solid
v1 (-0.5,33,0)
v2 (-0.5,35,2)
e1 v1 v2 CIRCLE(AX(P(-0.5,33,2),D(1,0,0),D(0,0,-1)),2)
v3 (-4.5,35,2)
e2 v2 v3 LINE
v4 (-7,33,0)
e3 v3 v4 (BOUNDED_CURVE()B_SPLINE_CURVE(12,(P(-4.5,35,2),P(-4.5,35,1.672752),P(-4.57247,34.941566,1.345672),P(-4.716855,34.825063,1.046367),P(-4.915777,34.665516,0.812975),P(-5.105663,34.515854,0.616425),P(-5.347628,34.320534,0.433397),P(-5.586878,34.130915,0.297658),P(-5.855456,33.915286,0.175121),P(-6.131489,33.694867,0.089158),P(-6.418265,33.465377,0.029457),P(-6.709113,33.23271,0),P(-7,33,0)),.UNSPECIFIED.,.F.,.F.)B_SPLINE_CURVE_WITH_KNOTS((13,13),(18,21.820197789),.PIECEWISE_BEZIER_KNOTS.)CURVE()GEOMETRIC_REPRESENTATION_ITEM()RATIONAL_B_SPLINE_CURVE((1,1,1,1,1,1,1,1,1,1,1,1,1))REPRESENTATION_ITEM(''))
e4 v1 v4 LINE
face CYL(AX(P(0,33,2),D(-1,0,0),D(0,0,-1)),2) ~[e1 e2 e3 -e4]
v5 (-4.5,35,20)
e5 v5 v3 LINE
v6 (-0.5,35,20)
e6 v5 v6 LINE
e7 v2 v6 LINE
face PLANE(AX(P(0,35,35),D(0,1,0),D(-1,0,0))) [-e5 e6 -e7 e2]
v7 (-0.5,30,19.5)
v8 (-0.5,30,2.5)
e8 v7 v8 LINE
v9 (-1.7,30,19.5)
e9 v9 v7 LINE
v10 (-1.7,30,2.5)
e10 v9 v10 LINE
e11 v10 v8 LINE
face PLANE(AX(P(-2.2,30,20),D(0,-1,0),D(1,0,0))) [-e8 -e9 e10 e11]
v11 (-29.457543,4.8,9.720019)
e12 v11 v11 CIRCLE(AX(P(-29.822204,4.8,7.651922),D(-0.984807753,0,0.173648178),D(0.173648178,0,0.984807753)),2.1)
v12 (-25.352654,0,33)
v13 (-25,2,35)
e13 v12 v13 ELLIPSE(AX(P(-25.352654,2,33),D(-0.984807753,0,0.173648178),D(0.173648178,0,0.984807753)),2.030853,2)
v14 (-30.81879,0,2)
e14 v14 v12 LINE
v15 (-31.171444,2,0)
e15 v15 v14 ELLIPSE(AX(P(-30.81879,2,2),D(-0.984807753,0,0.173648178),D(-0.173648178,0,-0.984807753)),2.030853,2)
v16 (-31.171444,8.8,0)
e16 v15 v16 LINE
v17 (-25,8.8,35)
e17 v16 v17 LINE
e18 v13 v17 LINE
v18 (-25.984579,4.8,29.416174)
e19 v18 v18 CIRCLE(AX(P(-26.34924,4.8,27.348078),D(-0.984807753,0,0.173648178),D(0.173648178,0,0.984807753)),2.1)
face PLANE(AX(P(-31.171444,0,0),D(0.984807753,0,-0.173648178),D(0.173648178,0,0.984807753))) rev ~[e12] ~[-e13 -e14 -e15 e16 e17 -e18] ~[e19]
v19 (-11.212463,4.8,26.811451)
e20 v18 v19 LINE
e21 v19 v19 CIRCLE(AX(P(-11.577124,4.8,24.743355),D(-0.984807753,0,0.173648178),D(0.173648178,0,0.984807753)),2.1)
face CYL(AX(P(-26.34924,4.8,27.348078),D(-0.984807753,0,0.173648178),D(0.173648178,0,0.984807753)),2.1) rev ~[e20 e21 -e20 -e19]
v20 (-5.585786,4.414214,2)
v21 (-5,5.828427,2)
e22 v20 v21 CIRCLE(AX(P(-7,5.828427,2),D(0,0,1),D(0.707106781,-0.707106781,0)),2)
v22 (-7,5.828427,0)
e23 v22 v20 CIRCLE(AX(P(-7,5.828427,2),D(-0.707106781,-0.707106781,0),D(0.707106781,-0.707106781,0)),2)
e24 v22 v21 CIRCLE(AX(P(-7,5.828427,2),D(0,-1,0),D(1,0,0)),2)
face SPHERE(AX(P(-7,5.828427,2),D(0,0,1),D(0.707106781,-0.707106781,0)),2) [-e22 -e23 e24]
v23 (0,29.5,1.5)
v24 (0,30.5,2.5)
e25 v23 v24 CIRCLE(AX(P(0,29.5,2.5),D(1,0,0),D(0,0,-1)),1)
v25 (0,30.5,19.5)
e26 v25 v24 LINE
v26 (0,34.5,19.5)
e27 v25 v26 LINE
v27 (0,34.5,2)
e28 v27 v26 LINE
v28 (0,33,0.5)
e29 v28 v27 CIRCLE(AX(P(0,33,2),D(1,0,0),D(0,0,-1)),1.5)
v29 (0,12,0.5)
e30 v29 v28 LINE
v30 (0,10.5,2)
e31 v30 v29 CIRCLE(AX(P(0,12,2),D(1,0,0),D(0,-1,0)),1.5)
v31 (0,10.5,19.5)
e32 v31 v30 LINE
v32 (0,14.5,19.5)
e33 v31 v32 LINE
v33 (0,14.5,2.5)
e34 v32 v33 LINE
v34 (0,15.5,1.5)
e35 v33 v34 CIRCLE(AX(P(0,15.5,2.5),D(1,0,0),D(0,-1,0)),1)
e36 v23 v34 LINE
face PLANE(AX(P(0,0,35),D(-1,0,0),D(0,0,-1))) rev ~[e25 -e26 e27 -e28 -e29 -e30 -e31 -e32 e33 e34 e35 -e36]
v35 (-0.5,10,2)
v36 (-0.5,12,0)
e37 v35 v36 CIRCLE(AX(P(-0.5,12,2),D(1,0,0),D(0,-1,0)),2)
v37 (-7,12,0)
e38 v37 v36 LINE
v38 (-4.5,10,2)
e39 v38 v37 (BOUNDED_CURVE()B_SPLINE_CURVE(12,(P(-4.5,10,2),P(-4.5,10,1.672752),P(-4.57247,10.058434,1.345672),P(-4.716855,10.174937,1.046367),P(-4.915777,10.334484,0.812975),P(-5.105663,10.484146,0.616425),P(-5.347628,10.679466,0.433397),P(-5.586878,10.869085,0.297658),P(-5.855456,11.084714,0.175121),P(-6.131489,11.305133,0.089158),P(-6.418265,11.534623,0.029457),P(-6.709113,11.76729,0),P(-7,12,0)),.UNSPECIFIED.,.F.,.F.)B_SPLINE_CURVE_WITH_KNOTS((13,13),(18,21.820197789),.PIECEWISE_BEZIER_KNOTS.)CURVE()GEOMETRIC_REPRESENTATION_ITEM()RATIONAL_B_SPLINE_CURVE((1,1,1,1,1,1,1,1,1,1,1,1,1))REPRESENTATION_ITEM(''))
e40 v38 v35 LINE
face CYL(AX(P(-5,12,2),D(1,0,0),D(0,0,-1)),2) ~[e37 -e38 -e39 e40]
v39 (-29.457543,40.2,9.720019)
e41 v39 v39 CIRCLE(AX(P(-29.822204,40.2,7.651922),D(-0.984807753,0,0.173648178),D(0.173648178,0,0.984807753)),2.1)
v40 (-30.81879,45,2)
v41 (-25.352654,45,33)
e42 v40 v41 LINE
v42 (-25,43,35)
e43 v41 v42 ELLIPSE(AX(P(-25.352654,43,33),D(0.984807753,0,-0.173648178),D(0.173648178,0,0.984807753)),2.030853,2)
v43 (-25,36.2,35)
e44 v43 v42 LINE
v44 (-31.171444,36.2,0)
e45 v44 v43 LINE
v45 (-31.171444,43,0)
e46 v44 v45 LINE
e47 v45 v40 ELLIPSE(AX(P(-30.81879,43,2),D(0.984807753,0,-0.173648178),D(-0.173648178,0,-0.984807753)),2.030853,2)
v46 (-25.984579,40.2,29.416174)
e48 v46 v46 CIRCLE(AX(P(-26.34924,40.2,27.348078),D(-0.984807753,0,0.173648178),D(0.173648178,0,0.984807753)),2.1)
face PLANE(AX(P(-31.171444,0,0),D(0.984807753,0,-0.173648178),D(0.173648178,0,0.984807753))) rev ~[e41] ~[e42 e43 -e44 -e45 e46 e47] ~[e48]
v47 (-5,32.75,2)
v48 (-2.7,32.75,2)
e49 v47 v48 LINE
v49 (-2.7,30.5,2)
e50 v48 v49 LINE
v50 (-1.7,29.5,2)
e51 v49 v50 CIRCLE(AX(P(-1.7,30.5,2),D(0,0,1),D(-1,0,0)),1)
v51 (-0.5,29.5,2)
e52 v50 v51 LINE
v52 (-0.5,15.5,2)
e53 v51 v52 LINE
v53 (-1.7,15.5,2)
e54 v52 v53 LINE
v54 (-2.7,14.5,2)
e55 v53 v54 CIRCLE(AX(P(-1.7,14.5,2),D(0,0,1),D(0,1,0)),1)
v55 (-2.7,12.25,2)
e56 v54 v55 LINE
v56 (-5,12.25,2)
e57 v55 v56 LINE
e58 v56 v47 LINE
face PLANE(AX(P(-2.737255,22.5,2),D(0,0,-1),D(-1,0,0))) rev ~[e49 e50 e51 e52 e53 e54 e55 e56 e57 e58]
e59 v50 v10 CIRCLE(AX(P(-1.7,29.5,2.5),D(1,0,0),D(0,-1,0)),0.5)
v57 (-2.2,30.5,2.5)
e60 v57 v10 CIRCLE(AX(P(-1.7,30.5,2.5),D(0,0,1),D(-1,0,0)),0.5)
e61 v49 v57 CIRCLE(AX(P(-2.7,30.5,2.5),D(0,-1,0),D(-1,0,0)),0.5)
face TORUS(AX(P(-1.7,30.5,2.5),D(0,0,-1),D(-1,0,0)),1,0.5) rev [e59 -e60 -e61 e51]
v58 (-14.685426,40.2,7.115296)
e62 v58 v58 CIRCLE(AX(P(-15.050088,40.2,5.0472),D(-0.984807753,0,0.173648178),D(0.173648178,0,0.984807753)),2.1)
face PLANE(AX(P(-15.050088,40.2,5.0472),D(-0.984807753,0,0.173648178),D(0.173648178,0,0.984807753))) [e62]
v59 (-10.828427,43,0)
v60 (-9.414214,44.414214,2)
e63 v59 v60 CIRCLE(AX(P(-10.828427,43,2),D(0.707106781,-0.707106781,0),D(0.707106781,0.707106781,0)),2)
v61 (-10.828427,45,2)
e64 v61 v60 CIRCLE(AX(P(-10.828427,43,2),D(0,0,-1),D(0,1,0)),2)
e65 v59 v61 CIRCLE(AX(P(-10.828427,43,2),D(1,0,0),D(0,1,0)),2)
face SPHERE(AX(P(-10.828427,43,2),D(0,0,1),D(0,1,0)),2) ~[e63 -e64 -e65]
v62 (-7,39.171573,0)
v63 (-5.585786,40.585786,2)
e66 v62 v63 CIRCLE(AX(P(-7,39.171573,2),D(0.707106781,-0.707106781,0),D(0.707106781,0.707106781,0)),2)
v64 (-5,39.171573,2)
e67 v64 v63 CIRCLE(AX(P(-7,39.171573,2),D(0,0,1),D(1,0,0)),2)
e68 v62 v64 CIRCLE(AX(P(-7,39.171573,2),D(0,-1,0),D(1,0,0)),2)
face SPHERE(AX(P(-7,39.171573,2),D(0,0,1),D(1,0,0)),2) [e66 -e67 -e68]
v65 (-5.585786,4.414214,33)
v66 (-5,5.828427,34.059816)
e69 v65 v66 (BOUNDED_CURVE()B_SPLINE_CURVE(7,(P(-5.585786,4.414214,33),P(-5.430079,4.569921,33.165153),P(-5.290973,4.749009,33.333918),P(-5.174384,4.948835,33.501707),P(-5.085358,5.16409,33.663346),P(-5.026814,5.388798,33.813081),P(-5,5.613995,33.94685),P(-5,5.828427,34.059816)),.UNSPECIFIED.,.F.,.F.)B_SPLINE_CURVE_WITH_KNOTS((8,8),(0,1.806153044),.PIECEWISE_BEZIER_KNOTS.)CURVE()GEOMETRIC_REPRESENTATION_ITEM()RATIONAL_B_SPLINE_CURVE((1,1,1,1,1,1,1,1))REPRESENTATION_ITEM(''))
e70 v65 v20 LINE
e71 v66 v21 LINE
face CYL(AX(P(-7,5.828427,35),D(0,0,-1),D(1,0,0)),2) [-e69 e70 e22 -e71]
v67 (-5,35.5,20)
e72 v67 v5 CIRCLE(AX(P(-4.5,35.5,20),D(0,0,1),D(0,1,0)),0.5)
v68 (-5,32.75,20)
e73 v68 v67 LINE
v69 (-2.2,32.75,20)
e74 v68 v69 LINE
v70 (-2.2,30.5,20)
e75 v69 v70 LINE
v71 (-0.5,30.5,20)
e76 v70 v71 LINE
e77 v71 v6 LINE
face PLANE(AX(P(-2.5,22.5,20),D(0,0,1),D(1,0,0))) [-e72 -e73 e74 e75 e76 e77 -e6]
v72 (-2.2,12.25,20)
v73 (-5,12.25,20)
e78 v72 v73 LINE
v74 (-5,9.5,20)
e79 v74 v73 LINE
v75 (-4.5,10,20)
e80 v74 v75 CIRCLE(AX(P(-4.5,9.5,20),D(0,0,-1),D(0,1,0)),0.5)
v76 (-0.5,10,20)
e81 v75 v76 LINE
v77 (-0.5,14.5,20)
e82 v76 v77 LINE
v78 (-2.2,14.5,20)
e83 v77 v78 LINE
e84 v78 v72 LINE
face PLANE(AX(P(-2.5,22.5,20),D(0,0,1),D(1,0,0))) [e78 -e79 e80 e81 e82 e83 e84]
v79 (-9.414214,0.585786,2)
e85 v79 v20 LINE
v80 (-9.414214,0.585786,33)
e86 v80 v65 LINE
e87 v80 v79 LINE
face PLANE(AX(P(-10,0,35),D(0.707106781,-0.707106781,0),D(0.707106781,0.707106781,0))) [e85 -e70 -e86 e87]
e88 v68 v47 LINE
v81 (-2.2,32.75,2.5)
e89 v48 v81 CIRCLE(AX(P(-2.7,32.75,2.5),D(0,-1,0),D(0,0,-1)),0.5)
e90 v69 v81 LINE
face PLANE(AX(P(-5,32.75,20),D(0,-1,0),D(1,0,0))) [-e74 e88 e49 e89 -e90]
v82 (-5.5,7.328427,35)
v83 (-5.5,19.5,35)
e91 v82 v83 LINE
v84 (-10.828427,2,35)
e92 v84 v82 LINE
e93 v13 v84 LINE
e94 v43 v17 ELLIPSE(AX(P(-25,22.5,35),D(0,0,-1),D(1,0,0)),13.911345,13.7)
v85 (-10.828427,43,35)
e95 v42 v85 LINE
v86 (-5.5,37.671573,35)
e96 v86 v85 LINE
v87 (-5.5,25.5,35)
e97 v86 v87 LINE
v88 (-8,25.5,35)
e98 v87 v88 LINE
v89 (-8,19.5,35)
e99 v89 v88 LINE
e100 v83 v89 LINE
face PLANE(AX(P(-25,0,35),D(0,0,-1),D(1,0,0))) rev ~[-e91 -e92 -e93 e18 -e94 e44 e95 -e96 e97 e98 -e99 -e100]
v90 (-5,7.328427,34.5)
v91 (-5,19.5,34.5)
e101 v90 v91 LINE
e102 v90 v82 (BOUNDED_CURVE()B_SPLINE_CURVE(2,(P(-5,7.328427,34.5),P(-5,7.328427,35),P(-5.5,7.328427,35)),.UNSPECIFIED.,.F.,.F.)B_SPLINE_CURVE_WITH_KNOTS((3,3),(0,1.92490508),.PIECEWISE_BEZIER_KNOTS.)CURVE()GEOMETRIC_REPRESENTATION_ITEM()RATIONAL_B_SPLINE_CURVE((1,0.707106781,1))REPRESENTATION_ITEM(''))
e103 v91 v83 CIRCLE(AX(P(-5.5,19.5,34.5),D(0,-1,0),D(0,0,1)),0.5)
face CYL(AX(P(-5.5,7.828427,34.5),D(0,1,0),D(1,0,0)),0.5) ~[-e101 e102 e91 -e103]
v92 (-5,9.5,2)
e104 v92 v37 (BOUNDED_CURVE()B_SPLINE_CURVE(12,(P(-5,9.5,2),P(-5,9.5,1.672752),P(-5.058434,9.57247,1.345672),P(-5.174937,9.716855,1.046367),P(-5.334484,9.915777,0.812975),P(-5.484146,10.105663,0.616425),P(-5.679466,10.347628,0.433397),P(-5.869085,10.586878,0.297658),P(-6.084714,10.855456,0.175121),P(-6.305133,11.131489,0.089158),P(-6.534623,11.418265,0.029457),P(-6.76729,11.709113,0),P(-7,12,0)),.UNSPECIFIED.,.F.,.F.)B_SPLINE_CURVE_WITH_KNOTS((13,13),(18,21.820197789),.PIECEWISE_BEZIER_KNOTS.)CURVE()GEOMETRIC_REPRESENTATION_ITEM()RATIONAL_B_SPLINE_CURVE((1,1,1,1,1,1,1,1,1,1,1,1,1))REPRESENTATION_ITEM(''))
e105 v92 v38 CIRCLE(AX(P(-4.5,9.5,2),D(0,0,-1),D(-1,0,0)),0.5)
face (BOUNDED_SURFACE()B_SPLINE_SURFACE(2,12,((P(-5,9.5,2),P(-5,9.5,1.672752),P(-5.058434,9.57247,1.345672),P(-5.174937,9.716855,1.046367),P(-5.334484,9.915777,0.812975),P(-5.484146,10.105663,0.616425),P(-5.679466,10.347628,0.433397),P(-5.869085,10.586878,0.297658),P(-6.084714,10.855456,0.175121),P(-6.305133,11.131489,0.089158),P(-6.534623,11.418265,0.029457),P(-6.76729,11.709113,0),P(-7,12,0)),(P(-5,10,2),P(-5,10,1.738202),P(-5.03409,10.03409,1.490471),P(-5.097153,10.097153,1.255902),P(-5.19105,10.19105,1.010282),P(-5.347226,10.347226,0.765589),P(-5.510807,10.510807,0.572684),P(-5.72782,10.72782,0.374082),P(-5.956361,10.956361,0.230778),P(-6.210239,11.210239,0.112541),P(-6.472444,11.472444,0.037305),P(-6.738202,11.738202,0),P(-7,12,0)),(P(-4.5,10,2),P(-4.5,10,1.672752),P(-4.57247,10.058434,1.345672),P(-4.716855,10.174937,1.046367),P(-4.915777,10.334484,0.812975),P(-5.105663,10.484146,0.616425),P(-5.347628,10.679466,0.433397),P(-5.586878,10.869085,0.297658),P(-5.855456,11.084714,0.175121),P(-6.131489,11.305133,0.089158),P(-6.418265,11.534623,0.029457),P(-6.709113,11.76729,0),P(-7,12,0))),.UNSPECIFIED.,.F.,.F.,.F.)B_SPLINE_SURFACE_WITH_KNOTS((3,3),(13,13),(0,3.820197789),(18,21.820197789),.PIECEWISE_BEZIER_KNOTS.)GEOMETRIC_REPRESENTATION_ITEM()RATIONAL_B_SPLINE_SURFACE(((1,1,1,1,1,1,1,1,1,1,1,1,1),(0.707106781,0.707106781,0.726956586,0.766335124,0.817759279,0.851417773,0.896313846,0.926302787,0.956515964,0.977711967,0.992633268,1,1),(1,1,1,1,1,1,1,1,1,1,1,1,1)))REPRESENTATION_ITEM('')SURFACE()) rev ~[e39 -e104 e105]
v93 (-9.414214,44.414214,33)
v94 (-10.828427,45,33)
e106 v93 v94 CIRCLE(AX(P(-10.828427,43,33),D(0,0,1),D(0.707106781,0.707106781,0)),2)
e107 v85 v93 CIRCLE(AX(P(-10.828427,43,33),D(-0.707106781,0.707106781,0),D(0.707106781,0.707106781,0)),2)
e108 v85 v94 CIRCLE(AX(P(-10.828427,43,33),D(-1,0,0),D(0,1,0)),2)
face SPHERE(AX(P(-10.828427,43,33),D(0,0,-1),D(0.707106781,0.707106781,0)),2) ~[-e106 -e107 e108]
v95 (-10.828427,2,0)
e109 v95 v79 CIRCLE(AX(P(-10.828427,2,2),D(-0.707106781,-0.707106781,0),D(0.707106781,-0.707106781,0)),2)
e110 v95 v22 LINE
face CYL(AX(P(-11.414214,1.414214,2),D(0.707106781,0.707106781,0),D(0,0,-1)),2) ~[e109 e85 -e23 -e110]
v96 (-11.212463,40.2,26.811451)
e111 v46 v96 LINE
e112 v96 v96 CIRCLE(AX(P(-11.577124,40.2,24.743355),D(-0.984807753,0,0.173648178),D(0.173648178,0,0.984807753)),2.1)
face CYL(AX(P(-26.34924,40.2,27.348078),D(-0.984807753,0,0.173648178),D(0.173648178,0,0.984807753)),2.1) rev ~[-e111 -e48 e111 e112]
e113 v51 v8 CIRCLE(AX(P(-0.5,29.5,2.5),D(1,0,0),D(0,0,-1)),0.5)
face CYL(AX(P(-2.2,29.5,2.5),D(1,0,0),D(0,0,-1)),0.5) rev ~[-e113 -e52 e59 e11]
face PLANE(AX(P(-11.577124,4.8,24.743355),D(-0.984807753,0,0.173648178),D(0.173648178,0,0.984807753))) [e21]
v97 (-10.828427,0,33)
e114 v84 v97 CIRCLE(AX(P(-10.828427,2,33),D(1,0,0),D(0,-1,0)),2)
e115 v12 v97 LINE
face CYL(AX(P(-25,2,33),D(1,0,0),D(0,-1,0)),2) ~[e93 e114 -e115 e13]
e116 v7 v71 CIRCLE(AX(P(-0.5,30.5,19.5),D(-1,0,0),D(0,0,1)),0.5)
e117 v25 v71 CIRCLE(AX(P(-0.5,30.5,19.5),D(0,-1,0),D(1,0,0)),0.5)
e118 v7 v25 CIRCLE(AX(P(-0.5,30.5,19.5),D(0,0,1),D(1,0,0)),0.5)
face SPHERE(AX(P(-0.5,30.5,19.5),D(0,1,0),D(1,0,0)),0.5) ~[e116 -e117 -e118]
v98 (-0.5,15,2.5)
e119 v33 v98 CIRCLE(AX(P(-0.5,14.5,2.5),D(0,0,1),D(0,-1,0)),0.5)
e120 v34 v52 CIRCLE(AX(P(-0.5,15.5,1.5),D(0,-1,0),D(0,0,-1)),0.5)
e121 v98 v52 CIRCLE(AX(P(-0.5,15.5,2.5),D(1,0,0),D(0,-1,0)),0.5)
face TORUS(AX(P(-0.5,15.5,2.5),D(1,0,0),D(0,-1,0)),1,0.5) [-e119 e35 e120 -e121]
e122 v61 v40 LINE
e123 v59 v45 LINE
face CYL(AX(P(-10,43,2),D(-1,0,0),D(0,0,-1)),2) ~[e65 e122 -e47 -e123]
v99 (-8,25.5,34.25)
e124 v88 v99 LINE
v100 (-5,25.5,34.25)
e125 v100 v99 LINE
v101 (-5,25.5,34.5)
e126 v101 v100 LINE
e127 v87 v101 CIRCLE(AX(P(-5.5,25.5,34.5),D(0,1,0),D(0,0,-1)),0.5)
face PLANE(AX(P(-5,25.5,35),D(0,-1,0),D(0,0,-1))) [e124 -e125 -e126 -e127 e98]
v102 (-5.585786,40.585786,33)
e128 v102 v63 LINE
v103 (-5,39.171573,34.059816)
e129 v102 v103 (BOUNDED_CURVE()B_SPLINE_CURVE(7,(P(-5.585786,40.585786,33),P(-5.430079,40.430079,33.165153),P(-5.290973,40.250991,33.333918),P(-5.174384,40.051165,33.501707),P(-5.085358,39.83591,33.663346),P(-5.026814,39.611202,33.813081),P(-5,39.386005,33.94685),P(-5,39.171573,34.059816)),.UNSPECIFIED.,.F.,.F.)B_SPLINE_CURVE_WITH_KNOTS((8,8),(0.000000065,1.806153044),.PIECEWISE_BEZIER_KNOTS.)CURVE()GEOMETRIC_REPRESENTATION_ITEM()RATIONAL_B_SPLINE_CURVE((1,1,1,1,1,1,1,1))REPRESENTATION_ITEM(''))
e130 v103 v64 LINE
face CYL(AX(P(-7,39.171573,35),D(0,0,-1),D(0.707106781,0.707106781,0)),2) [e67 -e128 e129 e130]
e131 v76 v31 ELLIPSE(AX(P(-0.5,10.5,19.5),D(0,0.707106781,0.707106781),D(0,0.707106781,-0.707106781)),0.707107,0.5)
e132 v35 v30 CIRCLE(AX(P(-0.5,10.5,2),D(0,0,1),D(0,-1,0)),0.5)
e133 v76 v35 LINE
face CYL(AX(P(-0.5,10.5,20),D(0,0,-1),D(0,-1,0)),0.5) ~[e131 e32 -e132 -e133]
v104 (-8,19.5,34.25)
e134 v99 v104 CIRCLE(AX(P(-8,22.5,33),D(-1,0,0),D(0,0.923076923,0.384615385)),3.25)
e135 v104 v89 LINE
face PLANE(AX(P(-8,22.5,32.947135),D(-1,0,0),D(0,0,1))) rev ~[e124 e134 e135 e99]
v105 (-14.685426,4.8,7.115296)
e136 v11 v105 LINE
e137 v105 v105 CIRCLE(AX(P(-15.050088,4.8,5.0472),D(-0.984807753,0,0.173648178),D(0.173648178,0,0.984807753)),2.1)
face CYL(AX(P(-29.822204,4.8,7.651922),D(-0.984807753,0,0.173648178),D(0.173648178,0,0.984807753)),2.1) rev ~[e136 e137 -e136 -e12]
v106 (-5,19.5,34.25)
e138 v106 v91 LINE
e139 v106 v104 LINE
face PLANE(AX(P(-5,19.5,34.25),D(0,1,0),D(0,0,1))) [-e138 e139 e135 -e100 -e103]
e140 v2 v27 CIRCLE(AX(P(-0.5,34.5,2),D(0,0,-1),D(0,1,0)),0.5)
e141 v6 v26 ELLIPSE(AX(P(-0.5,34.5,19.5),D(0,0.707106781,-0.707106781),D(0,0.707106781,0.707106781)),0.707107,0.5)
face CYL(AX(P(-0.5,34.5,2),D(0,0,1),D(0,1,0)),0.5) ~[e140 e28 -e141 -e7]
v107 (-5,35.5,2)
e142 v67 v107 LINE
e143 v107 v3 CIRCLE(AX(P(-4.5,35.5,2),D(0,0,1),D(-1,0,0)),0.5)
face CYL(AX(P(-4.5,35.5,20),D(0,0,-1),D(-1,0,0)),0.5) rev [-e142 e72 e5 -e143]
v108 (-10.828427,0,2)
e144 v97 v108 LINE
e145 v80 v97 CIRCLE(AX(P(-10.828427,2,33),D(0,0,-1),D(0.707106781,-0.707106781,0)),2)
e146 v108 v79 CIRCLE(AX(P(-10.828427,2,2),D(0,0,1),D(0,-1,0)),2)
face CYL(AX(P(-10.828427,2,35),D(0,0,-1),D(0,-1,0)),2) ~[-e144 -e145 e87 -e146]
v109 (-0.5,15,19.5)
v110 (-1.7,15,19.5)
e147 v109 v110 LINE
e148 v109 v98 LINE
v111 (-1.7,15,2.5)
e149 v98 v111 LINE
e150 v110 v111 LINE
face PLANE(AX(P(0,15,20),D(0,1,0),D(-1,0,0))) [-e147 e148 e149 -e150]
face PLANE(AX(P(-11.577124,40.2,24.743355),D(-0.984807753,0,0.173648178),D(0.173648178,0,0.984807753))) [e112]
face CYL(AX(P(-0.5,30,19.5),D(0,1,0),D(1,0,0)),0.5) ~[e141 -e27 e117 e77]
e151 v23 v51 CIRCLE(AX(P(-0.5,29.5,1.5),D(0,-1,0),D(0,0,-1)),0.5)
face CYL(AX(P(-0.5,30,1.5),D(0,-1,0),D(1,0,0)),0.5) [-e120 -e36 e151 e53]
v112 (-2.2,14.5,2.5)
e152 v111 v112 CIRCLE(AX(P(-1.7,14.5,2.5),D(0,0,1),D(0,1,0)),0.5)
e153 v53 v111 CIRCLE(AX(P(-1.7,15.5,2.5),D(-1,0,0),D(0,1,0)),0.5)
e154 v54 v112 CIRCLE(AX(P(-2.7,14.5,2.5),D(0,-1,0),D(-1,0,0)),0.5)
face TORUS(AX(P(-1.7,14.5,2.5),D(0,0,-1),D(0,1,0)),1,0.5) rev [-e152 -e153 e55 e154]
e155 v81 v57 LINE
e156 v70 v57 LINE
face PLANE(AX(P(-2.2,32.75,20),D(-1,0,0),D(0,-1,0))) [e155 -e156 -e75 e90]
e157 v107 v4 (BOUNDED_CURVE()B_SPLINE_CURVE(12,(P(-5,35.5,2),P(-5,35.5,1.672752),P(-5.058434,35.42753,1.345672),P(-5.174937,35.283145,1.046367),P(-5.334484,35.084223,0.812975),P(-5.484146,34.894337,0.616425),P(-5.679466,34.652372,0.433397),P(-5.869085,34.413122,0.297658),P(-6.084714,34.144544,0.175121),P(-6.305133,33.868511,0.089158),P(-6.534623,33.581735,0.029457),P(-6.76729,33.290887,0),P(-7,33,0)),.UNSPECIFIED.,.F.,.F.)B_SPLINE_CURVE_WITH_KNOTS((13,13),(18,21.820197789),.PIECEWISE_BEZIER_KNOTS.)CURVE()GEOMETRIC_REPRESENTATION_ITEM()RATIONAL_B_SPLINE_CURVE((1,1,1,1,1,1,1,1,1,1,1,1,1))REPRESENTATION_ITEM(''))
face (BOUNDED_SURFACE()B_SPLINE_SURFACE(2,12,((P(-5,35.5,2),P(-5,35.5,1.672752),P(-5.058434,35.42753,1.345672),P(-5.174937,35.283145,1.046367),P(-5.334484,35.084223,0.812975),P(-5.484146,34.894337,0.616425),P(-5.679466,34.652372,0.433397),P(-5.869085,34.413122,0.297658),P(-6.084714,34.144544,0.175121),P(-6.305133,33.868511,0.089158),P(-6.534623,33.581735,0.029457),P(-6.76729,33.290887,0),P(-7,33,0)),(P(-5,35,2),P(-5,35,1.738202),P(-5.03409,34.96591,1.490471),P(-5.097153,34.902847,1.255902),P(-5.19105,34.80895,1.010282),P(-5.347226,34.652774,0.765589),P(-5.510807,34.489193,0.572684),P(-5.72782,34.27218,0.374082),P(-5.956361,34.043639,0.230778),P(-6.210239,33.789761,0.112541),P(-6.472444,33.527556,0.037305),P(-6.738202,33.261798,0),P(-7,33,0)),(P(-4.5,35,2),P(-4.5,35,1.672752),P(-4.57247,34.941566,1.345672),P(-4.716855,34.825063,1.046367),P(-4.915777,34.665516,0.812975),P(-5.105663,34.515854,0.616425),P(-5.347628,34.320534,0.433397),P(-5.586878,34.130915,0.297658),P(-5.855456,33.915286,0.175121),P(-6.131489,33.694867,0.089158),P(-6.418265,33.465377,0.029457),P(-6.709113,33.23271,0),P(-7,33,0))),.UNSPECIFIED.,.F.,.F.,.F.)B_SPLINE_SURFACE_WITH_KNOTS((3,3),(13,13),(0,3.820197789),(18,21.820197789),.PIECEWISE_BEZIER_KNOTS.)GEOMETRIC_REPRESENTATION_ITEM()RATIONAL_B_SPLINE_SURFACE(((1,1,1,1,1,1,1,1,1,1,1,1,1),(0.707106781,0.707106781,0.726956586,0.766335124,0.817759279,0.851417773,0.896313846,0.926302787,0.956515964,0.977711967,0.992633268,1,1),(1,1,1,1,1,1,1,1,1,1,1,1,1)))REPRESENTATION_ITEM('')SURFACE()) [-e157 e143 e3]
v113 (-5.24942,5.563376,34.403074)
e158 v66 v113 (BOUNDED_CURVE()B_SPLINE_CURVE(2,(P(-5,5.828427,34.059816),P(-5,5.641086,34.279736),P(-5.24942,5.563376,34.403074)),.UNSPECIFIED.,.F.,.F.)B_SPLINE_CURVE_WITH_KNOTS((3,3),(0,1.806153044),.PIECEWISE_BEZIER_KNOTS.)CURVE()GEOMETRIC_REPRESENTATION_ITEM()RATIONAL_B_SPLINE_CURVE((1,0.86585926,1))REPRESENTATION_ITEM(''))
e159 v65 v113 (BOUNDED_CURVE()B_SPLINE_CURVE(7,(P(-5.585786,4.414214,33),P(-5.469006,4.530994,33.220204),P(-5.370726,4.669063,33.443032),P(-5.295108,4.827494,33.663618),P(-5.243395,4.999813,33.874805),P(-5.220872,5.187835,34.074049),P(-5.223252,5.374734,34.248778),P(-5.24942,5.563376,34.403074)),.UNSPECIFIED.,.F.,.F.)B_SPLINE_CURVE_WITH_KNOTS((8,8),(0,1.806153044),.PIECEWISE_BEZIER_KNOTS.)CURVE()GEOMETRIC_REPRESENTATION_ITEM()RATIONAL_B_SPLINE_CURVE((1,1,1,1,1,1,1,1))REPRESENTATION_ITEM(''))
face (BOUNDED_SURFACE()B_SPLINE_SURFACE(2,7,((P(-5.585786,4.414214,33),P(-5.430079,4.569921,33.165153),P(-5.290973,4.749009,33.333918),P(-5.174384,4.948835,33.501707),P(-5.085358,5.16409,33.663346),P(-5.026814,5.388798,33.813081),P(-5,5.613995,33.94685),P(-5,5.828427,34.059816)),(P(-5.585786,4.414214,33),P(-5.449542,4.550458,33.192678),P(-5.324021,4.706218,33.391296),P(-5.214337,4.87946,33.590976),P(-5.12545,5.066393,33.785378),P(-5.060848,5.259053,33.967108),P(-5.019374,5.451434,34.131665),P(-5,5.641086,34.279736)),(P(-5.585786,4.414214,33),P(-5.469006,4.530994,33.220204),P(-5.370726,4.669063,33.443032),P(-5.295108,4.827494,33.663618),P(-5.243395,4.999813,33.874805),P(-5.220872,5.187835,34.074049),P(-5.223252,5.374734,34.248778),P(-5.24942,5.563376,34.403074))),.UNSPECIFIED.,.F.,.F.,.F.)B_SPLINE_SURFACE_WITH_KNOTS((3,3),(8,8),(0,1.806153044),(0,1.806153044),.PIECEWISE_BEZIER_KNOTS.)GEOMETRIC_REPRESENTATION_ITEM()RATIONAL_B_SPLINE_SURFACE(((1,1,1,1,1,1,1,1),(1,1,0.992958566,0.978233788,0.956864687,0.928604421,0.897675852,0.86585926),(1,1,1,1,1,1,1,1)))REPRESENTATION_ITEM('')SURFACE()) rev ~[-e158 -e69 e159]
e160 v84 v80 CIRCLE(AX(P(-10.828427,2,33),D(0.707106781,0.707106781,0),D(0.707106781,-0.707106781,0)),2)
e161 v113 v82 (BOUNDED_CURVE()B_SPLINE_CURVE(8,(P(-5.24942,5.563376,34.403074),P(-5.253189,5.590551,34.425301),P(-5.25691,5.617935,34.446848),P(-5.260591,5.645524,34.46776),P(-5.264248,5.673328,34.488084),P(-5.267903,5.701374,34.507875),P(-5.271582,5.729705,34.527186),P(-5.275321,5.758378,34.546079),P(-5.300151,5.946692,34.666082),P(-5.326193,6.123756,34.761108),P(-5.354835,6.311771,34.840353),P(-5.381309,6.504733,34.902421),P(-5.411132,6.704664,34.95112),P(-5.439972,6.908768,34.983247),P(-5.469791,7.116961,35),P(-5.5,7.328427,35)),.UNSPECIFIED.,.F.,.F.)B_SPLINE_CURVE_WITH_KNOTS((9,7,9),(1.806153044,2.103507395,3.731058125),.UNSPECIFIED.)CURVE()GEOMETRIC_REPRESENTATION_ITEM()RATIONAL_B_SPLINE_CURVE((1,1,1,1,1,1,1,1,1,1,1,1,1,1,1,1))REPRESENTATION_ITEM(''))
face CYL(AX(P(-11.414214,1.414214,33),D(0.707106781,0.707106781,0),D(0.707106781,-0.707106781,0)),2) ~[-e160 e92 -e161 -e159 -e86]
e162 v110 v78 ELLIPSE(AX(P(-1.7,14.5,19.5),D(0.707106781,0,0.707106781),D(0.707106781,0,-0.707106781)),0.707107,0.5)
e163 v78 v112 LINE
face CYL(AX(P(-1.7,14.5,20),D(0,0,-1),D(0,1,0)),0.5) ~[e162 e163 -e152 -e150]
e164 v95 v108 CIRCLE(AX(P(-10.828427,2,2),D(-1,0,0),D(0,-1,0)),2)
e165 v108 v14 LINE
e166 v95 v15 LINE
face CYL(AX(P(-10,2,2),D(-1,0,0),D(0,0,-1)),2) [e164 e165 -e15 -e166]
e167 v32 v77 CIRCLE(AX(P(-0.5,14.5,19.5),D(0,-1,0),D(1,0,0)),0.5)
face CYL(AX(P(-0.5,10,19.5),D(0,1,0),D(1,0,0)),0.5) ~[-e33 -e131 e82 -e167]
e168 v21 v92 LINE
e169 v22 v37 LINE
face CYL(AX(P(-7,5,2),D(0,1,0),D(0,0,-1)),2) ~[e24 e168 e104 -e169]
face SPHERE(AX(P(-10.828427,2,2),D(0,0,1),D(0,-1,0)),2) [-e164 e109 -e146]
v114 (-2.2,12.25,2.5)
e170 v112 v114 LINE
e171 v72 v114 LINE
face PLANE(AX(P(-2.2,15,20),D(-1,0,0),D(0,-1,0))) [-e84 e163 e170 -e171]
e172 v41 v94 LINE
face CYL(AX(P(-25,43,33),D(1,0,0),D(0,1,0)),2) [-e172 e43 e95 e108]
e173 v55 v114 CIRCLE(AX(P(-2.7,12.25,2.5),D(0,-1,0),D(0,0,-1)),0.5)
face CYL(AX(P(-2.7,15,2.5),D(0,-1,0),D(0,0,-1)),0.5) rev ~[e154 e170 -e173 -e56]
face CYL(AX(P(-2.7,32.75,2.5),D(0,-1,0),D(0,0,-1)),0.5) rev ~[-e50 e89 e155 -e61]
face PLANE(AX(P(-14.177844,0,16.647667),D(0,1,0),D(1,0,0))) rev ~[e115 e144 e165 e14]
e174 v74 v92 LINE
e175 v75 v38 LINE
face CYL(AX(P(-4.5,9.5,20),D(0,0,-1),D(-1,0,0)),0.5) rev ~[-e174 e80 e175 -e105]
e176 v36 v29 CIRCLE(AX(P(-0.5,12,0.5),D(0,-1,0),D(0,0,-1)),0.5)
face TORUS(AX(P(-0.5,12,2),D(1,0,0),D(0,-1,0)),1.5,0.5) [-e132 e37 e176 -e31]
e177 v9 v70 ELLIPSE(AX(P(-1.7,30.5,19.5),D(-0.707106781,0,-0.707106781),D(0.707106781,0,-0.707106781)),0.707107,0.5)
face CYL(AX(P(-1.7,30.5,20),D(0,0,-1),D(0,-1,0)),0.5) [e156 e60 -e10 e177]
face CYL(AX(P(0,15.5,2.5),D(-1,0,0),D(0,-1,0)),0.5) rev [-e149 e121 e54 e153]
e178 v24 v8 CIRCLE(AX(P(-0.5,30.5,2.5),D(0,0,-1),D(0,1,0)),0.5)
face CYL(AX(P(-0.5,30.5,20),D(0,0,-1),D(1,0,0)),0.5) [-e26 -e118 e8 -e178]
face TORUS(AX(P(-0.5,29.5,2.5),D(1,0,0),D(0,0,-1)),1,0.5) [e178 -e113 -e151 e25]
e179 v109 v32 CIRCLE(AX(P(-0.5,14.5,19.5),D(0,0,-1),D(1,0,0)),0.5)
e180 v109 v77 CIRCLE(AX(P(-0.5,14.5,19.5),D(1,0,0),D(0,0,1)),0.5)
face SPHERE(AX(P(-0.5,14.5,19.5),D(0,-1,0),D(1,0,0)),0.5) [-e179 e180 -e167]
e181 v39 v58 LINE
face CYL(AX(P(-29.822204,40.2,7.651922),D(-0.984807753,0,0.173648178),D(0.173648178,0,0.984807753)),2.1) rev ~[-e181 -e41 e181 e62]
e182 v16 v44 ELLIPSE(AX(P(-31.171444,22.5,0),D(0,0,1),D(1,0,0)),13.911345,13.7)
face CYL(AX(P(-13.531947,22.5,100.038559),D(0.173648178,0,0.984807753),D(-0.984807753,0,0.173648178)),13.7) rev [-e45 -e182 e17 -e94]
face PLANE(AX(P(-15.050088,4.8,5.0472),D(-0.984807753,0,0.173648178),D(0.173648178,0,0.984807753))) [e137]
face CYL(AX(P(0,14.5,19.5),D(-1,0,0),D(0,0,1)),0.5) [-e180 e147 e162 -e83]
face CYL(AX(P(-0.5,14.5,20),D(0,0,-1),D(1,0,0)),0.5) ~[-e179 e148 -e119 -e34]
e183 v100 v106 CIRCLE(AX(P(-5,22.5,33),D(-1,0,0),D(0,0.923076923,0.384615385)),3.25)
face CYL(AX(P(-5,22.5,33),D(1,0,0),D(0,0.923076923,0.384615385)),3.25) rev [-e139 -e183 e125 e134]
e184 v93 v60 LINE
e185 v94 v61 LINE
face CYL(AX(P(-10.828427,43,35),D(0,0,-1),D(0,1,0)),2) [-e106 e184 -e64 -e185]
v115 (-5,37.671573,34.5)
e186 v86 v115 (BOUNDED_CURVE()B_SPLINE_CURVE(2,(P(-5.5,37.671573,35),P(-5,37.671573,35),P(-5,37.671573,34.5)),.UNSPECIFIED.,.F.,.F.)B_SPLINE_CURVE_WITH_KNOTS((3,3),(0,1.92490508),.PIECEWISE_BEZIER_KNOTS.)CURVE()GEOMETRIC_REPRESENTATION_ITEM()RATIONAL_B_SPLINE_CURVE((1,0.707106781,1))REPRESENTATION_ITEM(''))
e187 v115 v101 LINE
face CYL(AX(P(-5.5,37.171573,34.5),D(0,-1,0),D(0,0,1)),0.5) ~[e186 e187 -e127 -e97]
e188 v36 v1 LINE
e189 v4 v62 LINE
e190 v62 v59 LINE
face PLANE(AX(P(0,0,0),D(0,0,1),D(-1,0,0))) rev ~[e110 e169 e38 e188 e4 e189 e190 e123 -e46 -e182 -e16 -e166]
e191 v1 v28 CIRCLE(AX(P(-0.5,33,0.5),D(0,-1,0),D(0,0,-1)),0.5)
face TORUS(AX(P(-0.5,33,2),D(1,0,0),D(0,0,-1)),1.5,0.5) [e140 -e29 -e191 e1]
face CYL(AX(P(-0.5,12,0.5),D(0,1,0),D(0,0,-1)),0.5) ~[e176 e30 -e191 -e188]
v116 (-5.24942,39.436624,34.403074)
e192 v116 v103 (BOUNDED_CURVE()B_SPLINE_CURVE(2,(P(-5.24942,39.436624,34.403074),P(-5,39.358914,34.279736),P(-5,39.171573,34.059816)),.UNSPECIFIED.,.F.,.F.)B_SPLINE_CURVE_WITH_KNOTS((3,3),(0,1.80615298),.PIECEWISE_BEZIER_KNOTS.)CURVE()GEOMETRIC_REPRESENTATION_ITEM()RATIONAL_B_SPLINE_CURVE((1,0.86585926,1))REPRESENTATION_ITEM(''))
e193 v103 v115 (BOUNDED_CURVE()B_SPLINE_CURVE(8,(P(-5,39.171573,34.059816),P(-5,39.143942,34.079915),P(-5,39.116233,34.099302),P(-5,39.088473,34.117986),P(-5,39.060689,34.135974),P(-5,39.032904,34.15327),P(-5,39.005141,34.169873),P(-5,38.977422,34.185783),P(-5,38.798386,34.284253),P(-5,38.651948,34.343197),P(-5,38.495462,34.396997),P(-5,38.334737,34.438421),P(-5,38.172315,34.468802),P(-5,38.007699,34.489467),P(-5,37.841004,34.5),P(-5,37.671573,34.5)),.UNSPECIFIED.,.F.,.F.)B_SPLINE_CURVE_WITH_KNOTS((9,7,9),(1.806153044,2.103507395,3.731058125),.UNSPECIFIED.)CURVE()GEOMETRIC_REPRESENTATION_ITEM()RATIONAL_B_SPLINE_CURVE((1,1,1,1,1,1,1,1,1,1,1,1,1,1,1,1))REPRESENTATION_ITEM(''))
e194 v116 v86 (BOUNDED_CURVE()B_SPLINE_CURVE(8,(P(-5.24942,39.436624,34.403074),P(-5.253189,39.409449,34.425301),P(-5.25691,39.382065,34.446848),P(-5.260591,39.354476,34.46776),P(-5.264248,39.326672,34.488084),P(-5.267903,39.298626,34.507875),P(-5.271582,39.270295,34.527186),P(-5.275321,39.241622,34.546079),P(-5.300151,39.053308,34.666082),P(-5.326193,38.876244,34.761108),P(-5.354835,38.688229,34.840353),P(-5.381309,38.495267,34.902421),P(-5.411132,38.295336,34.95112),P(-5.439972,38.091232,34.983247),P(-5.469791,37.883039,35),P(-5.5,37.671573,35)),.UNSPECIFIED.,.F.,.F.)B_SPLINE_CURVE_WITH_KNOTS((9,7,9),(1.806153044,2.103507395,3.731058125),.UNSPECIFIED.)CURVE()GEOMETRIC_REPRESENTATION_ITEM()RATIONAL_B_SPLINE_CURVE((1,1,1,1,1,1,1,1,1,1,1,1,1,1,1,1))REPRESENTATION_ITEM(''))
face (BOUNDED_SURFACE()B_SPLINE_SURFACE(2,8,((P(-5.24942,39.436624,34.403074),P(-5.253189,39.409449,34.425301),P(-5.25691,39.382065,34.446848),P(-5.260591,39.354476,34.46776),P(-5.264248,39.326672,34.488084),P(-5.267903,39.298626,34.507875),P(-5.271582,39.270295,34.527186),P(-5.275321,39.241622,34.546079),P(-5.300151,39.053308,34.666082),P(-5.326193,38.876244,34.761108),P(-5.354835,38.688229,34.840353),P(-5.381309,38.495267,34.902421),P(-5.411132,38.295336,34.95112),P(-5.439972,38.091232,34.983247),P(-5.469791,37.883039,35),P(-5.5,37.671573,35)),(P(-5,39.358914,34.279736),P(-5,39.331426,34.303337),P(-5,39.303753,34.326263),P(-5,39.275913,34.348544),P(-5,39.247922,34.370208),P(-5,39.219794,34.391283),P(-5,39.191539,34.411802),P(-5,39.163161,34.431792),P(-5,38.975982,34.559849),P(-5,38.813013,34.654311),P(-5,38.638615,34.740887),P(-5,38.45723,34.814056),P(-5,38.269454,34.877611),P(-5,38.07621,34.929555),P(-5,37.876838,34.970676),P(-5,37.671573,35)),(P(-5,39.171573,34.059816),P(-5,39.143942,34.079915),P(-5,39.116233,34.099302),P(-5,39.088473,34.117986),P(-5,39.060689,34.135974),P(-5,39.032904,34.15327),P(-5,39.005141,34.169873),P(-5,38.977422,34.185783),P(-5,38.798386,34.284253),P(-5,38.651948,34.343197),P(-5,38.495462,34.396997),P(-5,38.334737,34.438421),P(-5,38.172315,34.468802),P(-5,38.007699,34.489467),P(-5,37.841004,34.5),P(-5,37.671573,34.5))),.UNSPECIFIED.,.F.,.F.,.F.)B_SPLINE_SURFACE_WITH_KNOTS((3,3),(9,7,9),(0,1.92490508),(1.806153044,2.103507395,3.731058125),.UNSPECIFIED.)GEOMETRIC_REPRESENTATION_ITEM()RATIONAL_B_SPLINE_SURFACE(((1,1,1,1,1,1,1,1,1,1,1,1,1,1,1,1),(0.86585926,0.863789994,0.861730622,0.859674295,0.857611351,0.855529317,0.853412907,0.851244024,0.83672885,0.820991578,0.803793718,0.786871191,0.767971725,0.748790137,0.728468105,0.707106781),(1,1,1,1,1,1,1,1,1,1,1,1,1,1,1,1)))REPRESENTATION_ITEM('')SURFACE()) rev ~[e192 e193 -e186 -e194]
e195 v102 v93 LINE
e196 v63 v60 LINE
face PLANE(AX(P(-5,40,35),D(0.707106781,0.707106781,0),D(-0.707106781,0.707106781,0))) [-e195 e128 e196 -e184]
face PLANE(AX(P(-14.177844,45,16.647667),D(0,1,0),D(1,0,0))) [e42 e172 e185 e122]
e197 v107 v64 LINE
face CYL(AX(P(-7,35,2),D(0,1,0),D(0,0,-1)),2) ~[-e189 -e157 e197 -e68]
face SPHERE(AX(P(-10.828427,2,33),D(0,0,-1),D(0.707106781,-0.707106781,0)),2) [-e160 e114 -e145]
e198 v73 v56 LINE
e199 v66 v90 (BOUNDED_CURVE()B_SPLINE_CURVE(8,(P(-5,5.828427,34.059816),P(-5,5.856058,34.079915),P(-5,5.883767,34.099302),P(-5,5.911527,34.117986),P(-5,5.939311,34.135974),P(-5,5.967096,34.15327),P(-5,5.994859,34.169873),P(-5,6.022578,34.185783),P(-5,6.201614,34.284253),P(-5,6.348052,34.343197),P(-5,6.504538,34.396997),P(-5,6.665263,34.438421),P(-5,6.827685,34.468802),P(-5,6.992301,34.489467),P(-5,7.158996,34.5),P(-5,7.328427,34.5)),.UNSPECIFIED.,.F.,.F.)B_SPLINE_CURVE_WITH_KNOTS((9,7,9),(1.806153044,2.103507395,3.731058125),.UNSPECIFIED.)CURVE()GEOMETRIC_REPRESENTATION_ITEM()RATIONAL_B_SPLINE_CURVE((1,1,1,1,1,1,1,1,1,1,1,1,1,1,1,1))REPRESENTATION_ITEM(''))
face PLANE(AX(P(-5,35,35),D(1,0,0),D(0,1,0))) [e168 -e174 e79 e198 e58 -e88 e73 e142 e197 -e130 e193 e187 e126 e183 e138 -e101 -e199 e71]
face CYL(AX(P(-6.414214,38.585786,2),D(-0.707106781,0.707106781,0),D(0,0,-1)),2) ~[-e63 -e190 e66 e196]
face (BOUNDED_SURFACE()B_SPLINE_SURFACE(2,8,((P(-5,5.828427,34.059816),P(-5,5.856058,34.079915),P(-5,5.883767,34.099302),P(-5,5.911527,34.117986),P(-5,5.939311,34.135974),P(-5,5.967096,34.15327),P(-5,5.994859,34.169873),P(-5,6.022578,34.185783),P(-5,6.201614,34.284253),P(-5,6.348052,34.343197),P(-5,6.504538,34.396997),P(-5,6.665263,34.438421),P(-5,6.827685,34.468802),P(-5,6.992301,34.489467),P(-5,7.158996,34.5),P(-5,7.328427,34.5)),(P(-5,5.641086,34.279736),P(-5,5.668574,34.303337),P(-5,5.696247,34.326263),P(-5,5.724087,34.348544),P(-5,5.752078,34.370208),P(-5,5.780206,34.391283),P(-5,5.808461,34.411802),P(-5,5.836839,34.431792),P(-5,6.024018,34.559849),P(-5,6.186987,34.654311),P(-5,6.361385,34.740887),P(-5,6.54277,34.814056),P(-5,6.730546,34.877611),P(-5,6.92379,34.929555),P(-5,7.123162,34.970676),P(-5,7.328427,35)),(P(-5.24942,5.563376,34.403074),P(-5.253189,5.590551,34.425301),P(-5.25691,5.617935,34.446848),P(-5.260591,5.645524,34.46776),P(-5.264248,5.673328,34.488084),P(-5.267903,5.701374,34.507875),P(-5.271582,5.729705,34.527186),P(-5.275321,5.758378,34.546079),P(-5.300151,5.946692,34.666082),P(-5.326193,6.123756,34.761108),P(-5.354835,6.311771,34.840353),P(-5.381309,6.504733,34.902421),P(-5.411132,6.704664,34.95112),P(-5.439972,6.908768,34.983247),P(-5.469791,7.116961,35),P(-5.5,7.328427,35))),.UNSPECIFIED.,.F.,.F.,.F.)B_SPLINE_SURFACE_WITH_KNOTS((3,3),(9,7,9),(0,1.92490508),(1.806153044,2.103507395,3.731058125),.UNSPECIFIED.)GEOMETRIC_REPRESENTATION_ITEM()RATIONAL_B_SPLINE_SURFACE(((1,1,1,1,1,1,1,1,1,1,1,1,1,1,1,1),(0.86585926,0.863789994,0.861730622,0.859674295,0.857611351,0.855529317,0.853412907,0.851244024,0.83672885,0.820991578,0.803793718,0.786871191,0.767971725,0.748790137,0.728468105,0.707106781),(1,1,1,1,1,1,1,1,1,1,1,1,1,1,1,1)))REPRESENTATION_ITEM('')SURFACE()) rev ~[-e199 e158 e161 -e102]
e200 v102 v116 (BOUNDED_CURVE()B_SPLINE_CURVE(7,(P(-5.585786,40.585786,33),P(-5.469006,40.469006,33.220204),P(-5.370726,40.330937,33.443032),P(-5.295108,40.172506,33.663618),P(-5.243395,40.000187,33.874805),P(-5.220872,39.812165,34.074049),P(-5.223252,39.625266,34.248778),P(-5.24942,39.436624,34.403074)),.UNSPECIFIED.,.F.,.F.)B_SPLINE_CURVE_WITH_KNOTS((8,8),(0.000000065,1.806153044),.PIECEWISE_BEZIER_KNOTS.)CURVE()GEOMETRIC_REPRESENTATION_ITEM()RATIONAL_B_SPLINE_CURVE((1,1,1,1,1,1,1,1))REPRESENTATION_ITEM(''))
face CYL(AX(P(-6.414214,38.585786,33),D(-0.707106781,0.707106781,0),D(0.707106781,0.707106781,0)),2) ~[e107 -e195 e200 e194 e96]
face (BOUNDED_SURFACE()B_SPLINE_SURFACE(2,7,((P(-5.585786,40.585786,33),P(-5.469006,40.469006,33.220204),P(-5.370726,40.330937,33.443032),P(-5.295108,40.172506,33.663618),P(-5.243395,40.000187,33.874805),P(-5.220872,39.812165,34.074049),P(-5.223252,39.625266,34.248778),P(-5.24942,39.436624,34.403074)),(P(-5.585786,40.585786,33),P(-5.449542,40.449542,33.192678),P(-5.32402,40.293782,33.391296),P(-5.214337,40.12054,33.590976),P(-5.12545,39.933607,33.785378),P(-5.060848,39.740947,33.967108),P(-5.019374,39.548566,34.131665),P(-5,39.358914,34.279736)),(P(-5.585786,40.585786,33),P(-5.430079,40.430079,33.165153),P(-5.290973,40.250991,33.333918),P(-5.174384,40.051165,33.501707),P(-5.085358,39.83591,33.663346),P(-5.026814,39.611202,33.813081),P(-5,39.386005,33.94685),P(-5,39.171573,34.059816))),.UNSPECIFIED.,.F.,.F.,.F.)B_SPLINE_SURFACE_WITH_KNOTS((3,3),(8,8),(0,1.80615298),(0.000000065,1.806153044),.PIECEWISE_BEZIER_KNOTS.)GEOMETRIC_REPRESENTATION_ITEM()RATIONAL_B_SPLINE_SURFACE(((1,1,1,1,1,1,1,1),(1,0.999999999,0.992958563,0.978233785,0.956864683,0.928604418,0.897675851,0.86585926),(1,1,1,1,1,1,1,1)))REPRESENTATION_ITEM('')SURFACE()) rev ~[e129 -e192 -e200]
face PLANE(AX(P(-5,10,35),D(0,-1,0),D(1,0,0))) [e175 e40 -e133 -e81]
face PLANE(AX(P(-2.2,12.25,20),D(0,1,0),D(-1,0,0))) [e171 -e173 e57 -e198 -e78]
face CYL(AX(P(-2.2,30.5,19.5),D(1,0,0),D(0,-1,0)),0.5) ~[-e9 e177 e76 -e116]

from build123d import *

# Parameters (mm, degrees)
BOSS_EXTRUDE1_DEPTH     = 45
CUT_EXTRUDE1_DEPTH      = 66.041883154
CUT_EXTRUDE1_DEPTH_BACK = 66.041883154
SKETCH2_R               = 13.7
CUT_EXTRUDE2_DEPTH      = 65.974294466
SKETCH4_W               = 5
SKETCH4_H               = 25
CUT_EXTRUDE3_DEPTH      = 15
CUT_EXTRUDE4_DEPTH      = 18
CUT_EXTRUDE5_DEPTH      = 3
SKETCH8_R               = 2.1
CUT_EXTRUDE6_DEPTH      = 15
FILLET1_R               = 2
FILLET2_R               = 0.5


with BuildPart() as part:
    # Sketch1 → Boss-Extrude1 (new body)
    with BuildSketch(Plane(origin=(0, 0, 0), x_dir=(1, 0, 0), z_dir=(0, 1, 0))):
        Polygon((0, 0), (-31.171444325, 0), (-25, -35), (0, -35), align=None)
    extrude(amount=BOSS_EXTRUDE1_DEPTH)

    # Sketch2 → Cut-Extrude1 (cut, two sides: drawn at the far end of the back side and taken through both)
    with BuildSketch(Plane(origin=(5.231510268, 0, 29.669369072), x_dir=(-0.9848077530122074, 0, 0.17364817766693474), z_dir=(-0.17364817766693474, 0, -0.9848077530122074)).offset(-CUT_EXTRUDE1_DEPTH_BACK)):
        with Locations((30.697880044, 22.5)):
            Circle(SKETCH2_R)
    extrude(amount=CUT_EXTRUDE1_DEPTH + CUT_EXTRUDE1_DEPTH_BACK, mode=Mode.SUBTRACT)

    # Sketch3 → Cut-Extrude2 (cut, through all)
    with BuildSketch(Plane.XY.offset(35)):
        Polygon((-5, 35), (-5, 40), (-10, 45), (0, 45), (0, 35), align=None)
        Polygon((-5, 10), (0, 10), (0, 0), (-10, 0), (-5, 5), align=None)
    extrude(amount=-CUT_EXTRUDE2_DEPTH, mode=Mode.SUBTRACT)

    # Sketch4 → Cut-Extrude3 (cut)
    with BuildSketch(Plane.XY.offset(35)):
        with Locations((-2.5, 22.5)):
            Rectangle(SKETCH4_W, SKETCH4_H)
    extrude(amount=-CUT_EXTRUDE3_DEPTH, mode=Mode.SUBTRACT)

    # Sketch5 → Cut-Extrude4 (cut)
    with BuildSketch(Plane.XY.offset(20)):
        Polygon((-5, 32.75), (-2.2, 32.75), (-2.2, 30), (0, 30), (0, 15), (-2.2, 15), (-2.2, 12.25), (-5, 12.25), align=None)
    extrude(amount=-CUT_EXTRUDE4_DEPTH, mode=Mode.SUBTRACT)

    # Sketch6 → Cut-Extrude5 (cut)
    with BuildSketch(Plane(origin=(-5, 0, 0), x_dir=(0, 0, -1), z_dir=(1, 0, 0))):
        with BuildLine():
            Line((-35, 19.5), (-35, 25.5))
            Line((-35, 25.5), (-34.25, 25.5))
            ThreePointArc((-34.25, 25.5), (-29.75, 22.5), (-34.25, 19.5))
            Line((-34.25, 19.5), (-35, 19.5))
        make_face()
    extrude(amount=-CUT_EXTRUDE5_DEPTH, mode=Mode.SUBTRACT)

    # Sketch8 → Cut-Extrude6 (cut)
    with BuildSketch(Plane(origin=(-30.231510268, 0, 5.330630928), x_dir=(0.17364817766693477, 0, 0.9848077530122074), z_dir=(-0.9848077530122072, 0, 0.17364817766693474))):
        with Locations((2.357101206, 40.2)):
            Circle(SKETCH8_R)
        with Locations((22.357101206, 40.2)):
            Circle(SKETCH8_R)
        with Locations((22.357101206, 4.8)):
            Circle(SKETCH8_R)
        with Locations((2.357101206, 4.8)):
            Circle(SKETCH8_R)
    extrude(amount=-CUT_EXTRUDE6_DEPTH, mode=Mode.SUBTRACT)

    # Fillet1
    fillet1_edges = [part.edges().sort_by_distance(p)[0] for p in [
        (-17.5, 45, 35),
        (-20.585722162, 0, 0),
        (-7.5, 2.5, 0),
        (-10, 0, 17.5),
        (-5, 7.5, 0),
        (-5, 5, 17.5),
        (-2.5, 10, 0),
        (-7.5, 2.5, 35),
        (-20.585722162, 45, 0),
        (-2.5, 35, 0),
        (-5, 37.5, 0),
        (-7.5, 42.5, 0),
        (-5, 40, 17.5),
        (-10, 45, 17.5),
        (-17.5, 0, 35),
        (-7.5, 42.5, 35),
    ]]
    fillet(fillet1_edges, radius=FILLET1_R)

    # Fillet2
    fillet2_edges = [part.edges().sort_by_distance(p)[0] for p in [
        (0, 22.5, 0),
        (0, 10, 11),
        (0, 35, 11),
        (0, 10.585786438, 0.585786438),
        (0, 34.414213562, 0.585786438),
        (-5, 35, 11),
        (-5, 10, 11),
        (-5, 31.335786438, 35),
        (-5, 38.216836977, 34.85841639),
        (-5, 6.783163023, 34.85841639),
        (-5.163269118, 39.963039656, 33.739113334),
        (-5.707902185, 34.292097815, 0.473407966),
        (-5.163269118, 5.036960344, 33.739113334),
        (-5.707902185, 10.707902185, 0.473407966),
        (0, 12.5, 20),
        (0, 32.5, 20),
        (-2.2, 30, 11),
        (0, 30, 11),
        (0, 15, 11),
        (-2.2, 15, 11),
        (-1.1, 15, 20),
        (-1.1, 30, 20),
        (-2.2, 31.375, 2),
        (-1.1, 30, 2),
        (0, 22.5, 2),
        (-1.1, 15, 2),
        (-2.2, 13.625, 2),
        (-5, 13.664213562, 35),
    ]]
    fillet(fillet2_edges, radius=FILLET2_R)


solid = part.part
